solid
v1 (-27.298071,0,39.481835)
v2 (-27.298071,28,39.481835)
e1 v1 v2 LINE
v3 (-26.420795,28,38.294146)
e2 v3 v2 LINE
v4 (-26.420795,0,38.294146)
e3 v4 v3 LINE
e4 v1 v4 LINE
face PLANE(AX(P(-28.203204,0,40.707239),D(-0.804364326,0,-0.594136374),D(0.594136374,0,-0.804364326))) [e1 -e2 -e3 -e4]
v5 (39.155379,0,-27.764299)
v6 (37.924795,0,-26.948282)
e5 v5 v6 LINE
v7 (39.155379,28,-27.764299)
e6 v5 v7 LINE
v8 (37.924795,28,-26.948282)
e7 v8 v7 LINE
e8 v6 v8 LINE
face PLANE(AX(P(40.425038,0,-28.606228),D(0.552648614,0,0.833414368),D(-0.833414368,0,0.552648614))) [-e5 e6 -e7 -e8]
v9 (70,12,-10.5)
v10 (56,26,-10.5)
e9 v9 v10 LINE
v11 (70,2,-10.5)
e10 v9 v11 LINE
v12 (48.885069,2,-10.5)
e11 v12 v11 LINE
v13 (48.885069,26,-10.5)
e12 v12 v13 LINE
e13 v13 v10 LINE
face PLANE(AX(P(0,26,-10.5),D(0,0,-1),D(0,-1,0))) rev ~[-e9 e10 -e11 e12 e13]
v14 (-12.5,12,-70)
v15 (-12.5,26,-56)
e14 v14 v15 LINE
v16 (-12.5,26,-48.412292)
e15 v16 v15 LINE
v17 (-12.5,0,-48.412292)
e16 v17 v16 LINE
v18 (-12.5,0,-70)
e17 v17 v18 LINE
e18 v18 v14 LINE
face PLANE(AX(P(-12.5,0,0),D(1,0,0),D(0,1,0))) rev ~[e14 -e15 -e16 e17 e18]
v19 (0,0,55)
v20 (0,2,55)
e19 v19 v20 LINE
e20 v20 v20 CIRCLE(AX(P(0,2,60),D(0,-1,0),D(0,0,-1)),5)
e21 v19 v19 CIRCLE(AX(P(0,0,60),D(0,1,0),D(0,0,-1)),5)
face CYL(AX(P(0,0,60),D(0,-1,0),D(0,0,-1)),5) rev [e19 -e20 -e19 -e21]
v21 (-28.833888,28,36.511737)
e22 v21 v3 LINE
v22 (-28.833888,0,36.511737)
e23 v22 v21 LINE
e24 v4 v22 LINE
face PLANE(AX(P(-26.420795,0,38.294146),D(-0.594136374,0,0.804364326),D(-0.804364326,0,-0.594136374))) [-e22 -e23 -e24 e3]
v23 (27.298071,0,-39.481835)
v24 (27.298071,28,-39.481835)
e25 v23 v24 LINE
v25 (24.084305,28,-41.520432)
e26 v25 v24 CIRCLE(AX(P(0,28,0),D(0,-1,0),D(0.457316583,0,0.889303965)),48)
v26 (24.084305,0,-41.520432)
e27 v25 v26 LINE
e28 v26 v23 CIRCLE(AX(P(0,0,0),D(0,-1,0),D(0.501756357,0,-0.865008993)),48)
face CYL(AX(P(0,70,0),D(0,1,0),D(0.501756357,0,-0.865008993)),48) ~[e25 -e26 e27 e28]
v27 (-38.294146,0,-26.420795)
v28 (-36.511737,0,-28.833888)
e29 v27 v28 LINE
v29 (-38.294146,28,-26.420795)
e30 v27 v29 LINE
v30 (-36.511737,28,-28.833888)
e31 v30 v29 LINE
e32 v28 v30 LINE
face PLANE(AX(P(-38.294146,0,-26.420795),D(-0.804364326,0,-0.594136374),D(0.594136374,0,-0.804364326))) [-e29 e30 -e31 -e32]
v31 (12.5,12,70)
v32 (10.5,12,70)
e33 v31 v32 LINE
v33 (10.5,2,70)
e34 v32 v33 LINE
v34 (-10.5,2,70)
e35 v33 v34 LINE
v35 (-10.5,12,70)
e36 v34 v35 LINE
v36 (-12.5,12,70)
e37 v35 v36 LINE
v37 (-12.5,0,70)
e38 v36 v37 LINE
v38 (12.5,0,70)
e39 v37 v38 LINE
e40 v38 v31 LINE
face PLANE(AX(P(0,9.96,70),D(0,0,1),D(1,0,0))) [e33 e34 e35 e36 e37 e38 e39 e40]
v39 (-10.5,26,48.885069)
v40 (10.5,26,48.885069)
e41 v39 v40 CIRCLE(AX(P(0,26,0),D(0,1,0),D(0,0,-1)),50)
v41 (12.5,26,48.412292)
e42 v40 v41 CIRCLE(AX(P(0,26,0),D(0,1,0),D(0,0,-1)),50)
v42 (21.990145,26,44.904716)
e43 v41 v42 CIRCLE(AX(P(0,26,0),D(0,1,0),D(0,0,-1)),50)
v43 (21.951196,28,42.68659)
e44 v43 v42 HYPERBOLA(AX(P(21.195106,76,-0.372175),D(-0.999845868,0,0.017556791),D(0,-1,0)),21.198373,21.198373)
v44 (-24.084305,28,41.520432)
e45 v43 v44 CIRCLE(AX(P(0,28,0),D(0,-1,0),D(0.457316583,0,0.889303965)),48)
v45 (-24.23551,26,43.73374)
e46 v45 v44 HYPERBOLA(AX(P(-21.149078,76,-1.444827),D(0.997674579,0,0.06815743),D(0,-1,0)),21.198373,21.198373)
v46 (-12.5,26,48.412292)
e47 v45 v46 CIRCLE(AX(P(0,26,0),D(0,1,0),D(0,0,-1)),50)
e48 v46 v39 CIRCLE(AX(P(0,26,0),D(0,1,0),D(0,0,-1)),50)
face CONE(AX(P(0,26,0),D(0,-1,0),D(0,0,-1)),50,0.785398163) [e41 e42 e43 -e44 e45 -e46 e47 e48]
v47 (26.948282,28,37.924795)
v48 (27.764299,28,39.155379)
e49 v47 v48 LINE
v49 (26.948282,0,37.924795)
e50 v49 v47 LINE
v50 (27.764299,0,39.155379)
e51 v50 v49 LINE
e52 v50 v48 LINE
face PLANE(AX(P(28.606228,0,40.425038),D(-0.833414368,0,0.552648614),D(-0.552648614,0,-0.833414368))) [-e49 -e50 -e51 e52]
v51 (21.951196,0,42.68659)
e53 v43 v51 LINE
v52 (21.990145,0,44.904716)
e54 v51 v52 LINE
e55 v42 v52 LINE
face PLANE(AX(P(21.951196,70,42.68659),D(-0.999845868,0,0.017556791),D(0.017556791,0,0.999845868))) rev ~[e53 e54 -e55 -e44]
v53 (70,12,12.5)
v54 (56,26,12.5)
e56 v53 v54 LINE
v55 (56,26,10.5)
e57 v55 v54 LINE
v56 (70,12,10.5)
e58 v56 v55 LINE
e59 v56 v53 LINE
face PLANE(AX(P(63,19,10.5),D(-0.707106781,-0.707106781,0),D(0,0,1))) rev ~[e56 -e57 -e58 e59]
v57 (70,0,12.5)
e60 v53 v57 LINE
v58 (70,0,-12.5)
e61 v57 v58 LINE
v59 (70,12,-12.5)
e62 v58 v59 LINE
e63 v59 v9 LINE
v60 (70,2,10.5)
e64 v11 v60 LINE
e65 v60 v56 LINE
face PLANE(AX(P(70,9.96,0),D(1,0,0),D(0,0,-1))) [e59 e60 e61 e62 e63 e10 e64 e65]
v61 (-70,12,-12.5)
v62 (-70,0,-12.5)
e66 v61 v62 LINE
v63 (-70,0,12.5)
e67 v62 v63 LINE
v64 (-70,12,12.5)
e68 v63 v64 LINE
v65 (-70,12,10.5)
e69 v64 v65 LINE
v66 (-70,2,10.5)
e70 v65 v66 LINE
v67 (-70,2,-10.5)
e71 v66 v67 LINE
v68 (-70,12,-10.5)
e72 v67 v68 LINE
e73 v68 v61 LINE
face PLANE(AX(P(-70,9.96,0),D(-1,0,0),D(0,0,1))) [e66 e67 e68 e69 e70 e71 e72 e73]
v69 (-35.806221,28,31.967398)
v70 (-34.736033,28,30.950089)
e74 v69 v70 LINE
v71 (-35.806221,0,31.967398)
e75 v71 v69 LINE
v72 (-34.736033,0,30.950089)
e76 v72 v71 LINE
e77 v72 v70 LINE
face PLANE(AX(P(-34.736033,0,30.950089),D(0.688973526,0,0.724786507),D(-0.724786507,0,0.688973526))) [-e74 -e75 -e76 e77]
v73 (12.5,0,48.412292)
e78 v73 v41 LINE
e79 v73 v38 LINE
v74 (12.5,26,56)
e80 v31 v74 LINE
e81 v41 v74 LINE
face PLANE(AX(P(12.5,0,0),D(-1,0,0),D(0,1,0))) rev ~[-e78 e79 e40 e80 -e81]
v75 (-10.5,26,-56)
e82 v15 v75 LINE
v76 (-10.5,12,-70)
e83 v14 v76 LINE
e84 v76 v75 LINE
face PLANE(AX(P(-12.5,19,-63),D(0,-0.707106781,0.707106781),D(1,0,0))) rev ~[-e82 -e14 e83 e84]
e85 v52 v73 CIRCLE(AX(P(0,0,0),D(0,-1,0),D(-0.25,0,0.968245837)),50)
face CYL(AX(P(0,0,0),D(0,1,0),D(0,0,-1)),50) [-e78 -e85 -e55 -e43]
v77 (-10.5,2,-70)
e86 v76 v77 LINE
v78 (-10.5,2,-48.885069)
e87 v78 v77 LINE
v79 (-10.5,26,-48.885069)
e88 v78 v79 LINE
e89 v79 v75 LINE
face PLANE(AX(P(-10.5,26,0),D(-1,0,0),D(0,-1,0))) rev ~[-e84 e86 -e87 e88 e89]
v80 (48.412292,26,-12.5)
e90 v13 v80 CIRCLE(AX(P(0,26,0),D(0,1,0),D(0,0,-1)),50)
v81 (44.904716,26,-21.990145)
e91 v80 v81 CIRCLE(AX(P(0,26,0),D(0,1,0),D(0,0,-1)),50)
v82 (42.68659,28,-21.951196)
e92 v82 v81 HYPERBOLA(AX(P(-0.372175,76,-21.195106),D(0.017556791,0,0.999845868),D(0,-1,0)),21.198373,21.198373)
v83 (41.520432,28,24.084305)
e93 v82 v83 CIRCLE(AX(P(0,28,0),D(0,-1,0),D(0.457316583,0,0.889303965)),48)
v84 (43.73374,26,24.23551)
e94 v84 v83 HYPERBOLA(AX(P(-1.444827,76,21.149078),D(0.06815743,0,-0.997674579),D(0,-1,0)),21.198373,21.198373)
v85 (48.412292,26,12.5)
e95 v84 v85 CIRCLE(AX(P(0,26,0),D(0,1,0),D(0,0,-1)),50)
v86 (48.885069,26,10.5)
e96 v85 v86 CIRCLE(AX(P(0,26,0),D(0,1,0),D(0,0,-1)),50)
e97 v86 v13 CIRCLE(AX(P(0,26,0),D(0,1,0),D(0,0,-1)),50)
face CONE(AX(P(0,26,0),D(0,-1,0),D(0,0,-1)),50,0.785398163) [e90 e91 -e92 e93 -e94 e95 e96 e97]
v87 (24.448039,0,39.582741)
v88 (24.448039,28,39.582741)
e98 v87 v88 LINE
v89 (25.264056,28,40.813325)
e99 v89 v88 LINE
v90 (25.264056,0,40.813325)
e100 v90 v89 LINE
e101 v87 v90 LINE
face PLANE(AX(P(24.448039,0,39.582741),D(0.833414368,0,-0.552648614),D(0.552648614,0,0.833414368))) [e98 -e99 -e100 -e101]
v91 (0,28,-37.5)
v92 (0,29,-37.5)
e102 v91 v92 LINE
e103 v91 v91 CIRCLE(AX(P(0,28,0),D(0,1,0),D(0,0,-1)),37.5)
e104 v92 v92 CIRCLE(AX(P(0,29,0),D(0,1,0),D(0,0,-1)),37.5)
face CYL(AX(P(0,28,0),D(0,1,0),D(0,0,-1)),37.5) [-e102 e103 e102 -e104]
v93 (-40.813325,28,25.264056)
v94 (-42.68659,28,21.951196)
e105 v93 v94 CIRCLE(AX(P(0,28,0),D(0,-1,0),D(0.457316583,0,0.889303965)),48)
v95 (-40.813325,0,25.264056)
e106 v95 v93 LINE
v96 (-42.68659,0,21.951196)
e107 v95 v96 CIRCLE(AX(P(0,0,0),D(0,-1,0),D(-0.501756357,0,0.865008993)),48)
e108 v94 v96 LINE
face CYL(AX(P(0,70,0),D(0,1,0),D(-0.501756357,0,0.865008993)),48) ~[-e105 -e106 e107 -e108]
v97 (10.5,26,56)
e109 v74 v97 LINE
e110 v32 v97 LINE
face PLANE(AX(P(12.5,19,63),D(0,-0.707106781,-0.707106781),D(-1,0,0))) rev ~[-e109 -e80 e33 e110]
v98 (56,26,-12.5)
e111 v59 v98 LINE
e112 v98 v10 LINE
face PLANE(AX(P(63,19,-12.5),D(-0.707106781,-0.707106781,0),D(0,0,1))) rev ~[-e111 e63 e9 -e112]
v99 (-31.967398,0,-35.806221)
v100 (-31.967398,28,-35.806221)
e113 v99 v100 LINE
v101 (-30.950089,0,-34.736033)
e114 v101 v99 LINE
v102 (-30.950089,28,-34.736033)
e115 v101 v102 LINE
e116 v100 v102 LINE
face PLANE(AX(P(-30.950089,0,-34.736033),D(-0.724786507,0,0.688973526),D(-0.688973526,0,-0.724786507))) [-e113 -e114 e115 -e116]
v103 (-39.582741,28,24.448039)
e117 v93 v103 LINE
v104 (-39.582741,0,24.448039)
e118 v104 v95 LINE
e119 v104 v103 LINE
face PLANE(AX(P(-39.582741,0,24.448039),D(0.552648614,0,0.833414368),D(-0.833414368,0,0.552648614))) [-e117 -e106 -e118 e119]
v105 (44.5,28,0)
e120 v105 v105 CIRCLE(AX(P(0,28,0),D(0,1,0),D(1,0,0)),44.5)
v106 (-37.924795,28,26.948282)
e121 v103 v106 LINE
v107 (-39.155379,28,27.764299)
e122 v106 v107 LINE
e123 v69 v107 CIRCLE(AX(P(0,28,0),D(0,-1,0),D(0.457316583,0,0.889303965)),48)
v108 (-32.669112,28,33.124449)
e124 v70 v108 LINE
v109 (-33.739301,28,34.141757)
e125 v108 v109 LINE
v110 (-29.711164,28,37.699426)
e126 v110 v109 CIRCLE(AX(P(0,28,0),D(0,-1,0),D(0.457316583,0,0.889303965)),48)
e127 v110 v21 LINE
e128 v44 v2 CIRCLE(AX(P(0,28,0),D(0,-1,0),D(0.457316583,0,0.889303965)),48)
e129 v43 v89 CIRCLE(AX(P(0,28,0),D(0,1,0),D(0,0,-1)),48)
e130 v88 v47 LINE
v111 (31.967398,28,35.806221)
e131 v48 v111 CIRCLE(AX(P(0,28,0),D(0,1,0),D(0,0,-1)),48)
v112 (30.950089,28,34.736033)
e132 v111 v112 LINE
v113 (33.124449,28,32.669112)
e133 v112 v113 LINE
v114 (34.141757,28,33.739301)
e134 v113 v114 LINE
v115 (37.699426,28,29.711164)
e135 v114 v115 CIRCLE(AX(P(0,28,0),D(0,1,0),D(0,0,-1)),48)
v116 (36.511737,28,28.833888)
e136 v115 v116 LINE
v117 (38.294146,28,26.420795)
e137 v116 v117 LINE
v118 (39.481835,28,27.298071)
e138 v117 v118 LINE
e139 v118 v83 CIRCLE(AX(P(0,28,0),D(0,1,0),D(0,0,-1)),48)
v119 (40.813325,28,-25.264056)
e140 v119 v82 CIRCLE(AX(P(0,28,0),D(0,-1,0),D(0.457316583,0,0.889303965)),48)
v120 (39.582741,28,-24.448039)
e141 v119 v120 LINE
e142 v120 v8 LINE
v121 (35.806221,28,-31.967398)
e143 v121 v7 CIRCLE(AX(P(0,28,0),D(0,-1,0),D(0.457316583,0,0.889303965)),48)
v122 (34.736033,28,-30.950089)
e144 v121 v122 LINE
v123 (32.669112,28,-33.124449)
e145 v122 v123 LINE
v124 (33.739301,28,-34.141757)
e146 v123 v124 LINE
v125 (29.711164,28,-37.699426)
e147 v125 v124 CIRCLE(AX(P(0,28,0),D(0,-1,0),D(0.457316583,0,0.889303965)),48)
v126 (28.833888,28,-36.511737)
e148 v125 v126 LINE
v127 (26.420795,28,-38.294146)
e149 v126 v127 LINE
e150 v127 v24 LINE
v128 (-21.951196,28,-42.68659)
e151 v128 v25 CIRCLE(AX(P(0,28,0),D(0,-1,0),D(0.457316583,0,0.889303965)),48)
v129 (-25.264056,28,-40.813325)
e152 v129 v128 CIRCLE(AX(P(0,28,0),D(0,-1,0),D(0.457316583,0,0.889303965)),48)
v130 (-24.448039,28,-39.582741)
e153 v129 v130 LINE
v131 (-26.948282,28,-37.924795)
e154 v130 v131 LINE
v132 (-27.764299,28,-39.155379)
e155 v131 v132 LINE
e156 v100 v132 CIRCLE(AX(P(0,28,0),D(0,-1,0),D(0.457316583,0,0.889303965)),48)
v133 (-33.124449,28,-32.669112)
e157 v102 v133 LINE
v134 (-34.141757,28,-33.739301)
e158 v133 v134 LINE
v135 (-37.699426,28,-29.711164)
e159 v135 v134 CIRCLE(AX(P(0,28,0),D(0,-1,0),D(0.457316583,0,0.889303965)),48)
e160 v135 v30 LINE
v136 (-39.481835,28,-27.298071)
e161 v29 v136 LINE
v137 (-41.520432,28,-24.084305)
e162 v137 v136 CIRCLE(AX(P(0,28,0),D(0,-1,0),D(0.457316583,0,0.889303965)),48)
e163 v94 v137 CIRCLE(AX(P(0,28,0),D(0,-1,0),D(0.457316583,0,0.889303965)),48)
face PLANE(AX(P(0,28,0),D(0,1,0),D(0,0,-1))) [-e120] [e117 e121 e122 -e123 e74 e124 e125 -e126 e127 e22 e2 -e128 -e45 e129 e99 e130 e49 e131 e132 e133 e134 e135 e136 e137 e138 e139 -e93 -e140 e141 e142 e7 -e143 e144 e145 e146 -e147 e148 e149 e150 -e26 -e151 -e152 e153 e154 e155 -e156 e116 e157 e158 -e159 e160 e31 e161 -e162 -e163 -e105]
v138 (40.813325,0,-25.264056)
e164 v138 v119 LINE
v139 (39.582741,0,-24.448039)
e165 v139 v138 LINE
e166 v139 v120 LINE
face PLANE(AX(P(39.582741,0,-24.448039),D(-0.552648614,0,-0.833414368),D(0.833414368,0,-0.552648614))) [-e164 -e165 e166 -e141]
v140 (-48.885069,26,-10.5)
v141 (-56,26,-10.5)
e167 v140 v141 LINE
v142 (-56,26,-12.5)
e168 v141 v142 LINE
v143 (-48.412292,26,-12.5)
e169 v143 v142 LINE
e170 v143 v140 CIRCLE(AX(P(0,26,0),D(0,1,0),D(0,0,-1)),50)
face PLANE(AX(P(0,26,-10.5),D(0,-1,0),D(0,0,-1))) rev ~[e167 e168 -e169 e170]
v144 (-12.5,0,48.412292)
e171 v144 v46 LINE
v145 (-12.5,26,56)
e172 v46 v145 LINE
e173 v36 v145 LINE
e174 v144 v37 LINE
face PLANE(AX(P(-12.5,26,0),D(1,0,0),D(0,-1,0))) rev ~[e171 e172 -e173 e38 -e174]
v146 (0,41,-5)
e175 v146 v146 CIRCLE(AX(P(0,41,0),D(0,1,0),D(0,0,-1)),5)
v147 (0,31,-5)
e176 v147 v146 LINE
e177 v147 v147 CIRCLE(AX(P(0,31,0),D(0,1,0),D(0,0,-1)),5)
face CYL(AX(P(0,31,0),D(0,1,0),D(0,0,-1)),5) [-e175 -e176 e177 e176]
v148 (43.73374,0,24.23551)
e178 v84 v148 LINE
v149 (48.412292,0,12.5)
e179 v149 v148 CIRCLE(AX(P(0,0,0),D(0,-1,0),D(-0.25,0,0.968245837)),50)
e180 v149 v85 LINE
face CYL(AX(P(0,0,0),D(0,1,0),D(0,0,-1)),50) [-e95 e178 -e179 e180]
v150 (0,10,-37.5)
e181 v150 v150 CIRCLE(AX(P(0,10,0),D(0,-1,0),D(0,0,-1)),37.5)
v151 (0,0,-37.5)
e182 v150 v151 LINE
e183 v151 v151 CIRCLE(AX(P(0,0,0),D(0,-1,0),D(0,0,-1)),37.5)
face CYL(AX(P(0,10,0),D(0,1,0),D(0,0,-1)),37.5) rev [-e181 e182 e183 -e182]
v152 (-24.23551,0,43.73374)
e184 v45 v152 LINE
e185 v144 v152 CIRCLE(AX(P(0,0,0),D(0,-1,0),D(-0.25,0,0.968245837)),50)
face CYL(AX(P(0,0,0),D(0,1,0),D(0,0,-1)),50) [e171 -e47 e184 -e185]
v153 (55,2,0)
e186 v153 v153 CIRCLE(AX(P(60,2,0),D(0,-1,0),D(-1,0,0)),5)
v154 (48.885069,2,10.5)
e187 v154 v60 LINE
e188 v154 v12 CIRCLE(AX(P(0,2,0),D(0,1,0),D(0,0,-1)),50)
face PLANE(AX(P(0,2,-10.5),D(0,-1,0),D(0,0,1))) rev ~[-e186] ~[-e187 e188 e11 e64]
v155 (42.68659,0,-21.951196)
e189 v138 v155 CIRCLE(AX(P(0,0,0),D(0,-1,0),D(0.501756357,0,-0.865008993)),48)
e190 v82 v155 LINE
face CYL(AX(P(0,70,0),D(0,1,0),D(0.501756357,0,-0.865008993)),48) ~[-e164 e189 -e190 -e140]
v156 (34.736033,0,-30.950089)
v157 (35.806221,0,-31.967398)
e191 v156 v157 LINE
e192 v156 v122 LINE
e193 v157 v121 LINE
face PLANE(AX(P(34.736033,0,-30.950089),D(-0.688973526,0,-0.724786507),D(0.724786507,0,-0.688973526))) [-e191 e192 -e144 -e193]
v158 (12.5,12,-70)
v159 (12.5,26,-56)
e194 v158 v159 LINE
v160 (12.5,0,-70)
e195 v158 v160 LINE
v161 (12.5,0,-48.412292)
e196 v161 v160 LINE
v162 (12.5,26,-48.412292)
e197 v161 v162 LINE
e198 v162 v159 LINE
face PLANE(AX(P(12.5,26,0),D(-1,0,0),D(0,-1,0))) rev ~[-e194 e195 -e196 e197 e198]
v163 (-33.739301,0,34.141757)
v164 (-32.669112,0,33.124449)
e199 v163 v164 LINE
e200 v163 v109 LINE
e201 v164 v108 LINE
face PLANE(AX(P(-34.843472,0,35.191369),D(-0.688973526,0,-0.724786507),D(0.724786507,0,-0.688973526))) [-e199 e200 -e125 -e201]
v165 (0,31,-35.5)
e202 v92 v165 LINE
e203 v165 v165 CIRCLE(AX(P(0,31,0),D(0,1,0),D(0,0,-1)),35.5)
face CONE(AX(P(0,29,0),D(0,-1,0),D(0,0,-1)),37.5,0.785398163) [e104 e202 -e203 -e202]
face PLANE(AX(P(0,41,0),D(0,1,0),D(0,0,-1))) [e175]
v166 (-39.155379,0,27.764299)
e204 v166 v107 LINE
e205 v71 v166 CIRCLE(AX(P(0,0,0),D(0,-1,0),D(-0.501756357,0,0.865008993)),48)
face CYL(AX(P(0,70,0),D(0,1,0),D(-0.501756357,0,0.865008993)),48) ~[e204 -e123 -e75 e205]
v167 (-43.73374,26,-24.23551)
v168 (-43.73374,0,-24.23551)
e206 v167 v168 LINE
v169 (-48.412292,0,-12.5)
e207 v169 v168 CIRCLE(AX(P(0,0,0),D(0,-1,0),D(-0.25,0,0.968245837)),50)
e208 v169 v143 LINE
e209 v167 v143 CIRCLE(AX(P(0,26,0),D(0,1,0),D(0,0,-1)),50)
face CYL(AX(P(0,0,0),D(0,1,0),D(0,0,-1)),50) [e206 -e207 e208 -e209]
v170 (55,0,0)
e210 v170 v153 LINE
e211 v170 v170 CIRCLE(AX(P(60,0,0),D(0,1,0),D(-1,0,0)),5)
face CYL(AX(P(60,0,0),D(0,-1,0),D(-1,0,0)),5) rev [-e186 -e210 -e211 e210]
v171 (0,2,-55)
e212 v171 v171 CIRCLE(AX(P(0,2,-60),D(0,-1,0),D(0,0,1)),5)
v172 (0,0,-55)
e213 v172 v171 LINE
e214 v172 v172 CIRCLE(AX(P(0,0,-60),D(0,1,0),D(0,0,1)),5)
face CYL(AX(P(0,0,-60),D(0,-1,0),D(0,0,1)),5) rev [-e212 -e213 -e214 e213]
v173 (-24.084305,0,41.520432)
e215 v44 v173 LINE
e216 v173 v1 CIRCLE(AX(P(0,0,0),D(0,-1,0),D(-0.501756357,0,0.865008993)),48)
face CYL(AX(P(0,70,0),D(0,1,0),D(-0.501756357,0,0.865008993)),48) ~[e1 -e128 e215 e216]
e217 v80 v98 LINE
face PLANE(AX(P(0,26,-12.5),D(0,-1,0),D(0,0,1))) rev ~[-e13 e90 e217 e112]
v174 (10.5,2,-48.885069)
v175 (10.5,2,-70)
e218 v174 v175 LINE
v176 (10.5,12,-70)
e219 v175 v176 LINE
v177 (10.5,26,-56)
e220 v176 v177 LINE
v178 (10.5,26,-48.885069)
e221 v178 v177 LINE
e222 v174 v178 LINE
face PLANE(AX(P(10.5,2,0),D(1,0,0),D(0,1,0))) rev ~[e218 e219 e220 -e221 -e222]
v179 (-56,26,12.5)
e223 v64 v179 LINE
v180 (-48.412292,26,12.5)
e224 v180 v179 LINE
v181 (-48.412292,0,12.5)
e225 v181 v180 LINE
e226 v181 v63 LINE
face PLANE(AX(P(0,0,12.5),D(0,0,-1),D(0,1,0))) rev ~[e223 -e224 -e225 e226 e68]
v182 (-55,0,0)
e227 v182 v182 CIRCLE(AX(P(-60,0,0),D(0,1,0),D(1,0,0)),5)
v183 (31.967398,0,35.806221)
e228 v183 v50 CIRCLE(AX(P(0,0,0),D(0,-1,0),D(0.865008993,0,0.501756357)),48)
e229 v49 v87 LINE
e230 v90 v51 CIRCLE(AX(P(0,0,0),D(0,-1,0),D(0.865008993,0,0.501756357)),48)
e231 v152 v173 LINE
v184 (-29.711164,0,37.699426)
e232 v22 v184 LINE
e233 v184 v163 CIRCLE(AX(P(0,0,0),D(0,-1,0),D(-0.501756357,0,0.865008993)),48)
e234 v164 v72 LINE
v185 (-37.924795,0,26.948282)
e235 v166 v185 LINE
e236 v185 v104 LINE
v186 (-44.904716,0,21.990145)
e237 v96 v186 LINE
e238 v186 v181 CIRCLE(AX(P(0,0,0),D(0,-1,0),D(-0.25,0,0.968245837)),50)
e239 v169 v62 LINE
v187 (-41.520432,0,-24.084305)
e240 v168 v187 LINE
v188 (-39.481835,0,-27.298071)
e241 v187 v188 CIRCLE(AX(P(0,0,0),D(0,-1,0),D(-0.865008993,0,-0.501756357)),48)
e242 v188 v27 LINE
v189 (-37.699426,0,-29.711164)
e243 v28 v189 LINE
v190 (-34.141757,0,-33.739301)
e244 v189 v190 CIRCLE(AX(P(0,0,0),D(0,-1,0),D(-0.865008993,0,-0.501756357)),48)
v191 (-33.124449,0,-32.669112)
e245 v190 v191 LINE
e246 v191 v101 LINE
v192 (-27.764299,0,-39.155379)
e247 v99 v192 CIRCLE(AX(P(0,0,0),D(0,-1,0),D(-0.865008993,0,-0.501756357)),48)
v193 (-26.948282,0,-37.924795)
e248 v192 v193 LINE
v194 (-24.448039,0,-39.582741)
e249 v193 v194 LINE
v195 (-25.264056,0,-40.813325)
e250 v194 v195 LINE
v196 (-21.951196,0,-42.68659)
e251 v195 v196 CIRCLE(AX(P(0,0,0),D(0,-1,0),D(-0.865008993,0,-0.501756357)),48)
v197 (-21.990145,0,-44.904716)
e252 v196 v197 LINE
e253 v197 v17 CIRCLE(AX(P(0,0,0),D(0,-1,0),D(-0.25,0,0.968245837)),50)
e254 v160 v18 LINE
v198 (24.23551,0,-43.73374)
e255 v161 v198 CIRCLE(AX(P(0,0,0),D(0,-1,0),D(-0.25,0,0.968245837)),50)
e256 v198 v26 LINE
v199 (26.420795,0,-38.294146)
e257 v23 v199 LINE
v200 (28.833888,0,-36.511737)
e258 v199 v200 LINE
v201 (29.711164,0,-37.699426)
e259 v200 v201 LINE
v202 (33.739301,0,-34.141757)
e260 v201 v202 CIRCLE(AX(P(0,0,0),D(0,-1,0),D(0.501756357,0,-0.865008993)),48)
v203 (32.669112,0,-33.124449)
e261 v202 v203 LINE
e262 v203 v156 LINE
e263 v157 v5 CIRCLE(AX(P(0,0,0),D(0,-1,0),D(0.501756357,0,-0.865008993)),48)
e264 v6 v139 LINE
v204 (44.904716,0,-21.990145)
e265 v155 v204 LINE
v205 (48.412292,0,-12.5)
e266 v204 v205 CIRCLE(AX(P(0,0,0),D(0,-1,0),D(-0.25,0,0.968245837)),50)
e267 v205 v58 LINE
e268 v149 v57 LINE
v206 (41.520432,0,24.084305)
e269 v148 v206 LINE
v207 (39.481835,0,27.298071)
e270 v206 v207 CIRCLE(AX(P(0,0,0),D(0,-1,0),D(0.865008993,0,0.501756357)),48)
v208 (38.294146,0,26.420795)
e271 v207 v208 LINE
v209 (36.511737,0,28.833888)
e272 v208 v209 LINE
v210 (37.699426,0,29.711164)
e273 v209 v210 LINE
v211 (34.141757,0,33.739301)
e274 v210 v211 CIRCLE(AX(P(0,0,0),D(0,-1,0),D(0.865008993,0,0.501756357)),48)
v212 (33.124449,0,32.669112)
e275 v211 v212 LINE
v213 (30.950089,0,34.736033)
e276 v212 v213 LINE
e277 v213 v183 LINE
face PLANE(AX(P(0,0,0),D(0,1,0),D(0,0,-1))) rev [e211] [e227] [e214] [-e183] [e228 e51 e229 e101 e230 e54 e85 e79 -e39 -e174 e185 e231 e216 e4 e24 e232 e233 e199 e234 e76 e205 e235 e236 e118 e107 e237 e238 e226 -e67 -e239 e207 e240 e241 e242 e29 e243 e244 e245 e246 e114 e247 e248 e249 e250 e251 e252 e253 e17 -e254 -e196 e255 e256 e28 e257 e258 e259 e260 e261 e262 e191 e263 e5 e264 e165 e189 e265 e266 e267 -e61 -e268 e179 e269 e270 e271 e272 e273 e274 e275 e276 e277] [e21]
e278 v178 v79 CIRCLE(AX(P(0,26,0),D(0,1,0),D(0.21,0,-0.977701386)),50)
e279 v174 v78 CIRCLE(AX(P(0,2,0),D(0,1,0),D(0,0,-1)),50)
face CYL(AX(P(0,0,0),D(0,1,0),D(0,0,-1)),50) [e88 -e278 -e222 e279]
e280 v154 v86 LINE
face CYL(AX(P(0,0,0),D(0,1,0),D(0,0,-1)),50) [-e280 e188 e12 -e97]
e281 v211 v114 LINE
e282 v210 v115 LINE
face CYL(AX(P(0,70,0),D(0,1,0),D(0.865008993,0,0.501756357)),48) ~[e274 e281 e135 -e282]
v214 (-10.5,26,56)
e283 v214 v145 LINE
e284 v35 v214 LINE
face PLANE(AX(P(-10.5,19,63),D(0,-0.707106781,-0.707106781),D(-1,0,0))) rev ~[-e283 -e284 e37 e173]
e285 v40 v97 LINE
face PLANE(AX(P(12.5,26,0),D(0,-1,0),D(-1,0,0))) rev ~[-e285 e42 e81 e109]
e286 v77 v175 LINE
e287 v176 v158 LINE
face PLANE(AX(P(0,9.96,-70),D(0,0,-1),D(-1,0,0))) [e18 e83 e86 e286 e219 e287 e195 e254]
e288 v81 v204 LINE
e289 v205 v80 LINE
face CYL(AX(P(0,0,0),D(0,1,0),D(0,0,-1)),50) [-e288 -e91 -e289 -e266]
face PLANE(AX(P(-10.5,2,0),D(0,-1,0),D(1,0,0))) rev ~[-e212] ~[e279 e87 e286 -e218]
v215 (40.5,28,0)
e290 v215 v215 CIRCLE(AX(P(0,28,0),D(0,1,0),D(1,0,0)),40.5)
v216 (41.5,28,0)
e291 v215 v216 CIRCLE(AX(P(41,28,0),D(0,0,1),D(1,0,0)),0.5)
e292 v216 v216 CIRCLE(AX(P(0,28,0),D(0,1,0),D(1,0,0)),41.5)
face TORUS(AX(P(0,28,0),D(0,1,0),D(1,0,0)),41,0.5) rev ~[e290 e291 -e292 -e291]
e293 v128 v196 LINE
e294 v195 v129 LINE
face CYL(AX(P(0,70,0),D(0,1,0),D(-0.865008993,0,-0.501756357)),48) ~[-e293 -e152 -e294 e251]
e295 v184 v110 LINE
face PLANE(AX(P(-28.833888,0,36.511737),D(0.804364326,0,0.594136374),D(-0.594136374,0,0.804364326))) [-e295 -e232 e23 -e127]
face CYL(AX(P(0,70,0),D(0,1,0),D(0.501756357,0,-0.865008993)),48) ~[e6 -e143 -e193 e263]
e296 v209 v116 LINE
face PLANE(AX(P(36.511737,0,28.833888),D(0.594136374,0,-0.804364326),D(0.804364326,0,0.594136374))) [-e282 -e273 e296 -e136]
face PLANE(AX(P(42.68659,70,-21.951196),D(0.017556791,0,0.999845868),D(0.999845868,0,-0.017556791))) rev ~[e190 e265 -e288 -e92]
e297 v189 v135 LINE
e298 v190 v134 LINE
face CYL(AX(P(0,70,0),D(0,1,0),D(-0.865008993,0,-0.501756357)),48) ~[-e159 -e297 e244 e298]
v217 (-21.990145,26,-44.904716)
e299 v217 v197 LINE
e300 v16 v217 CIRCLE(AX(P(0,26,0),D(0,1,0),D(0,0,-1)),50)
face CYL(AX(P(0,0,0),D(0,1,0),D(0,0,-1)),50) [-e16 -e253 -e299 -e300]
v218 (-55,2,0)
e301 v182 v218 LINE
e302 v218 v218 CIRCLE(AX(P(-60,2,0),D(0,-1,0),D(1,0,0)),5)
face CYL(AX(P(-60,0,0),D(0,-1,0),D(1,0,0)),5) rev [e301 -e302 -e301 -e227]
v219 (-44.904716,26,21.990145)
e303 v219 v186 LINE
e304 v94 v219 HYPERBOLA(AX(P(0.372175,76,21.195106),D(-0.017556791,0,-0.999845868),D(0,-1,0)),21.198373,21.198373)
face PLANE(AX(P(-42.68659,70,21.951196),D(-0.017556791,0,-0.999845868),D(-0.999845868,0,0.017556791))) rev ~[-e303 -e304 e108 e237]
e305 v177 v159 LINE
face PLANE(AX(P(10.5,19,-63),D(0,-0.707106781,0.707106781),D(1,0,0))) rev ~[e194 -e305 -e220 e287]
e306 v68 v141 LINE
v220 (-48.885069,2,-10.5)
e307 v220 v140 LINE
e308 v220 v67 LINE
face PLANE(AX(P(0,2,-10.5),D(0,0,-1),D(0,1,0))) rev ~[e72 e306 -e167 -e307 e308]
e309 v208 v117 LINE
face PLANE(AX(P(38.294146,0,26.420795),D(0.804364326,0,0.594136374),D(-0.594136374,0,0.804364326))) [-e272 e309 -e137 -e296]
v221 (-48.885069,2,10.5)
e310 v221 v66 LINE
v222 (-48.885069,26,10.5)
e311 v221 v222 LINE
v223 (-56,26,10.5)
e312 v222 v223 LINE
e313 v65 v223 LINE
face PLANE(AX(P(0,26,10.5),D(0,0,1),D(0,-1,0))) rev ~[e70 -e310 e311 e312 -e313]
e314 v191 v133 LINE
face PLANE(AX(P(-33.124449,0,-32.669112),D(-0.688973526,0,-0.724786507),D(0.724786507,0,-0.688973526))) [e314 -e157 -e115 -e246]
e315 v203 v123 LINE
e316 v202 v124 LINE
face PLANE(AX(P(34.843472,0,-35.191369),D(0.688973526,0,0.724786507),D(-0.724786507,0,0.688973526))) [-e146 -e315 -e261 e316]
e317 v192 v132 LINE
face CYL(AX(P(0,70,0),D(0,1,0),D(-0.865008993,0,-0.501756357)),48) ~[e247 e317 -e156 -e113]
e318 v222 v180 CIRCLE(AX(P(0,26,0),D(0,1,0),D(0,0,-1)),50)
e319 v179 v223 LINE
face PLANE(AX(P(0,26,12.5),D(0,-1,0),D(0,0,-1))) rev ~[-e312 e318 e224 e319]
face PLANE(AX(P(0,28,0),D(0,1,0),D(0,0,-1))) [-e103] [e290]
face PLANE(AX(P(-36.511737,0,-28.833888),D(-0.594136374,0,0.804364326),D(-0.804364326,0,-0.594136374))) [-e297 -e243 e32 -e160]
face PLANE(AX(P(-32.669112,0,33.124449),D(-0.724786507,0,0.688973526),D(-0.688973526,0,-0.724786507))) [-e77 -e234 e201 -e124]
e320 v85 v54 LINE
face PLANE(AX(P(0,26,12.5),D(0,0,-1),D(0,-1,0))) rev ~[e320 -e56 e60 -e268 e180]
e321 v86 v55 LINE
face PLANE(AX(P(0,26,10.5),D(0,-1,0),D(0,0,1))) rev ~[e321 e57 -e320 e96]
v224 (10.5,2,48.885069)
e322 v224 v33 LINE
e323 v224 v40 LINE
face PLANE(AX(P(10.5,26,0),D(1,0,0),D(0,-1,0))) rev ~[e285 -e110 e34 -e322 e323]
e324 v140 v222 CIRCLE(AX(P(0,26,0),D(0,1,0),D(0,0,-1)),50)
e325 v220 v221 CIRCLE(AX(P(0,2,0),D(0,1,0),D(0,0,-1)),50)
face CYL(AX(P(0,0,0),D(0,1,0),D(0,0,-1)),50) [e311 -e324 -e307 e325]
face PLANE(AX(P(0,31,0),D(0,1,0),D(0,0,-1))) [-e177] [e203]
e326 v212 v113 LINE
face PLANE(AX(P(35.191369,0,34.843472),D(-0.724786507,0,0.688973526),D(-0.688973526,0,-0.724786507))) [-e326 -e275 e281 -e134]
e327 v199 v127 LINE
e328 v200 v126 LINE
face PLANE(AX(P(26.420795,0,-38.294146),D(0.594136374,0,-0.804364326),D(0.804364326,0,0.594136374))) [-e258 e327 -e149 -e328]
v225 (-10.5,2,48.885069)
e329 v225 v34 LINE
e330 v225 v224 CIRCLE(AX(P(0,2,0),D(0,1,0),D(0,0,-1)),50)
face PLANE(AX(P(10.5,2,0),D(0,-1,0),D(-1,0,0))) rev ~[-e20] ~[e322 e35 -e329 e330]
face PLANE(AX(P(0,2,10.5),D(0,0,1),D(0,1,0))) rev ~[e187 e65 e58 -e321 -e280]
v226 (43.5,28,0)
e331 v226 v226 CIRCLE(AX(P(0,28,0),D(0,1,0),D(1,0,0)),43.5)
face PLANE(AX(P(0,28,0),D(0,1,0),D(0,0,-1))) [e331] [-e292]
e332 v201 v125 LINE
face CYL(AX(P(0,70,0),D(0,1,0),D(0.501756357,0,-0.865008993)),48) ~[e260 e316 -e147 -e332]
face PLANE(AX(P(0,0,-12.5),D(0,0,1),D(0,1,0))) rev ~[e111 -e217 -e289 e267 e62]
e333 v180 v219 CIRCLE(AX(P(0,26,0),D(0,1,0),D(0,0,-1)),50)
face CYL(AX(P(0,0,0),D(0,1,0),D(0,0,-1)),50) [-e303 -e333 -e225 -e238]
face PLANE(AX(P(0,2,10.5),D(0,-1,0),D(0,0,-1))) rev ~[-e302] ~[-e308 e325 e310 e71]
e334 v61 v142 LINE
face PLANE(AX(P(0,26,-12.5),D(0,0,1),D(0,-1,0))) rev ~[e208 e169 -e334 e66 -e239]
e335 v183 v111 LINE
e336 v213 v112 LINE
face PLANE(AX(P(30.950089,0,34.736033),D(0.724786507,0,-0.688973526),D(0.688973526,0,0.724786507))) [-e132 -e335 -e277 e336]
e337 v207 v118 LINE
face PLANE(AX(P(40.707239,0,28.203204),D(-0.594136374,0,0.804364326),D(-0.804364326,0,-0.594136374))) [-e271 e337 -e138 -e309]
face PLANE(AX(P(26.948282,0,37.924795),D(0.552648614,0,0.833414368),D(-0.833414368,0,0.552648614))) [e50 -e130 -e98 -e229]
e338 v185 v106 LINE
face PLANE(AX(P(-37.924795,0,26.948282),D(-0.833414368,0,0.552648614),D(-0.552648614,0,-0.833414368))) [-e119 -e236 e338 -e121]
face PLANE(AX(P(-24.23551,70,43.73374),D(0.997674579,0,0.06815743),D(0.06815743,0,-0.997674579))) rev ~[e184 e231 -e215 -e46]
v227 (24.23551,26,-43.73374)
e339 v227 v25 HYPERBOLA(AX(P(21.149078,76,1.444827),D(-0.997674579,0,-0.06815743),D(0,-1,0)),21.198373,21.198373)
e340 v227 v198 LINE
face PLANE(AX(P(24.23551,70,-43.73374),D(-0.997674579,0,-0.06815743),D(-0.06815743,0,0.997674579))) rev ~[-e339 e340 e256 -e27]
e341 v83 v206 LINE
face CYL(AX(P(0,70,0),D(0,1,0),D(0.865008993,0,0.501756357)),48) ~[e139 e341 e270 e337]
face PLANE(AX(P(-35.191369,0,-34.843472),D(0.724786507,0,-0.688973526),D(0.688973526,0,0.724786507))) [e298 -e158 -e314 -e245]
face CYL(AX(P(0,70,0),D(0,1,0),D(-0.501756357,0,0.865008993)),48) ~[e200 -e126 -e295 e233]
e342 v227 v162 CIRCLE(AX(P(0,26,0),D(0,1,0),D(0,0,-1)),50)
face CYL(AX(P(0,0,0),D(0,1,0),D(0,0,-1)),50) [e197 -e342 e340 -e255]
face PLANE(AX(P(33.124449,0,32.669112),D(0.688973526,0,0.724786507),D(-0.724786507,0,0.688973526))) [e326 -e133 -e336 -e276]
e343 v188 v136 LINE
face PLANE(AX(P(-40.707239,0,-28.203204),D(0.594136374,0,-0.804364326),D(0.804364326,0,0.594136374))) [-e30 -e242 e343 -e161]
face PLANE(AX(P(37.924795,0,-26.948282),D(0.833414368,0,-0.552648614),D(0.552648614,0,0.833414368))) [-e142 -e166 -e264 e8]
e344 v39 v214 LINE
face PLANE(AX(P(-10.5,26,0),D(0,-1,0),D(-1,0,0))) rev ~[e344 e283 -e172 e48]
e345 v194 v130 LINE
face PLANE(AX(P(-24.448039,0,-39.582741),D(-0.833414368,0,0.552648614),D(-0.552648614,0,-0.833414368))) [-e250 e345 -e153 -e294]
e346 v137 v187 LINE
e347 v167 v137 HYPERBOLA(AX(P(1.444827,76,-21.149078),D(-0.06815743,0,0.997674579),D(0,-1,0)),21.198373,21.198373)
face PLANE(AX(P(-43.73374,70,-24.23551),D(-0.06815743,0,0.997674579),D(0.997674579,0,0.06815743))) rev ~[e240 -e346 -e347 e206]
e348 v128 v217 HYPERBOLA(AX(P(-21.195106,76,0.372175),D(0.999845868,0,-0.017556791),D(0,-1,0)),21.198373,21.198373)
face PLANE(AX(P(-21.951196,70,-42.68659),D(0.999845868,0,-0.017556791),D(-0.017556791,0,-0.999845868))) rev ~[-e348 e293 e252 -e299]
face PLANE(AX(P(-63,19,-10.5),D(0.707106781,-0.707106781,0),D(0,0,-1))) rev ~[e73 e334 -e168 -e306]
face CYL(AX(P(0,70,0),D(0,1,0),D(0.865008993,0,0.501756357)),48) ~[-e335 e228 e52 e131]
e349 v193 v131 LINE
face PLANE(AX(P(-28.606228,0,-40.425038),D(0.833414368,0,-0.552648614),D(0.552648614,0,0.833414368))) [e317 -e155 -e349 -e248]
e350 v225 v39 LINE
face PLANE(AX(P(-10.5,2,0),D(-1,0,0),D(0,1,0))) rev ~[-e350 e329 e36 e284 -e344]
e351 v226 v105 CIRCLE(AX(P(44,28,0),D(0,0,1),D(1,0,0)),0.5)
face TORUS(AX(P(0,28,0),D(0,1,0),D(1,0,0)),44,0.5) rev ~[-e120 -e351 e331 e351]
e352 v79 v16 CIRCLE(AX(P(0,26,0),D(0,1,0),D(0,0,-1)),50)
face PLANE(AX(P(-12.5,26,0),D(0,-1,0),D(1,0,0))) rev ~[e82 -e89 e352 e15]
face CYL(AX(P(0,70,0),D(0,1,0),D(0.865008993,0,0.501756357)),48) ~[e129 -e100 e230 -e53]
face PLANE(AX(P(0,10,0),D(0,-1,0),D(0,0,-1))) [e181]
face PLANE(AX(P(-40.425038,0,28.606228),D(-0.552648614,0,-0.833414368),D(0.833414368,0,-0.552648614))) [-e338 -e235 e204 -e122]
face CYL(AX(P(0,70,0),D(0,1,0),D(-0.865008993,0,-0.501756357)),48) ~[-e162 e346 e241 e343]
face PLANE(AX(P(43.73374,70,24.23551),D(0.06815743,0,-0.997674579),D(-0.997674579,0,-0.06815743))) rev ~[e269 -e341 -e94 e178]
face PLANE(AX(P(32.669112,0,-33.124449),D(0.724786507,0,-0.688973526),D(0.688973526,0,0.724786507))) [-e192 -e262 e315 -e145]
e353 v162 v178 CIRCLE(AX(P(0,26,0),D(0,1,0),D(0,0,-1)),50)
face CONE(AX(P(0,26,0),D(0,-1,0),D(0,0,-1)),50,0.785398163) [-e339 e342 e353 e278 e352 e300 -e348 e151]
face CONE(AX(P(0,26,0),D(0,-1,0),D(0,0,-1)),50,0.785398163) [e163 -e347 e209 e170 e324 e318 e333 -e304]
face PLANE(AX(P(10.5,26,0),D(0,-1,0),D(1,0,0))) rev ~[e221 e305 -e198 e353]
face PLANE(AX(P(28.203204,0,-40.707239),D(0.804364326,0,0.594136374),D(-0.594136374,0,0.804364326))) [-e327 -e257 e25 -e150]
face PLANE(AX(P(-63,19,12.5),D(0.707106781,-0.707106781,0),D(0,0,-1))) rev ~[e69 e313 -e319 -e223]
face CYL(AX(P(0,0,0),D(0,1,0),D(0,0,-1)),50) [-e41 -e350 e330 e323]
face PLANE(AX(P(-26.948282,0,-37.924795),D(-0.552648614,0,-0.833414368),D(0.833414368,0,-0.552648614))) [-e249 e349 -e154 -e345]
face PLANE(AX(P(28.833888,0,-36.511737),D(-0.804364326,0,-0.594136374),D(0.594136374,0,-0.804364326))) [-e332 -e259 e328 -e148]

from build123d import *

# Parameters (mm, degrees)
CHAMFER1_SIZE                   = 2
BOSS_EXTRUDE1_DEPTH             = 70
CHAMFER2_SIZE                   = 14
SKETCH3_R                       = 5
CUT_EXTRUDE1_DEPTH              = 70
CIRPATTERN1_COUNT               = 4
CHAMFER2_OF_CIRPATTERN1_SIZE    = 14
CUT_EXTRUDE2_START              = 70
CUT_EXTRUDE2_DEPTH              = 70
CUT_EXTRUDE3_DEPTH              = 70
CIRPATTERN2_COUNT               = 2
CIRPATTERN2_ANGLE               = 10
CIRPATTERN2_THE_OTHER_WAY_COUNT = 2
CIRPATTERN2_THE_OTHER_WAY_ANGLE = 10
CIRPATTERN3_COUNT               = 4
CIRPATTERN3_COPY_1_DEPTH        = 70
CIRPATTERN3_COPY_2_DEPTH        = 70
CIRPATTERN3_COPY_3_DEPTH        = 70
CIRPATTERN3_COPY_4_DEPTH        = 70
CIRPATTERN3_COPY_5_DEPTH        = 70
CIRPATTERN3_COPY_6_DEPTH        = 70
CUT_SWEEP1_PROFILE_R            = 0.5
CUT_SWEEP2_PROFILE_R            = 0.5
CUT_EXTRUDE4_START              = -10
SKETCH16_R                      = 37.5
CUT_EXTRUDE4_DEPTH              = 10


with BuildPart() as part:
    # Sketch1 → Revolve1 (revolve)
    with BuildSketch(Plane.XY, mode=Mode.PRIVATE) as revolve1_sk:
        Polygon((0, 0), (-50, 0), (-50, 28), (-37.5, 28), (-37.5, 31), (-5, 31), (-5, 41), (0, 41), align=None)
    revolve(revolve1_sk.sketch.rotate(Axis((0, 0, 0), (0, 1, 0)), 270), axis=Axis((0, 0, 0), (0, 1, 0)))

    # Chamfer1
    chamfer1_edges = [part.edges().sort_by_distance(p)[0] for p in [
        (0, 31, 37.5),
        (0, 28, 50),
    ]]
    chamfer(chamfer1_edges, length=CHAMFER1_SIZE)

    # Sketch2 → Boss-Extrude1 (add)
    with BuildSketch(Plane.XY):
        Polygon((-12.5, 26), (-12.5, 0), (12.5, 0), (12.5, 26), (10.5, 26), (10.5, 2), (-10.5, 2), (-10.5, 26), align=None)
    boss_extrude1 = extrude(amount=BOSS_EXTRUDE1_DEPTH)

    # Chamfer2
    chamfer2_edges = [part.edges().sort_by_distance(p)[0] for p in [
        (-11.5, 26, 70),
        (11.5, 26, 70),
    ]]
    chamfer(chamfer2_edges, length=CHAMFER2_SIZE)

    # Sketch3 → Cut-Extrude1 (cut)
    with BuildSketch(Plane(origin=(0, 0, 0), x_dir=(1, 0, 0), z_dir=(0, 1, 0))):
        with Locations(Location((0, -60, 0), (0, 0, 90))):
            Circle(SKETCH3_R)
    cut_extrude1 = extrude(amount=CUT_EXTRUDE1_DEPTH, mode=Mode.SUBTRACT)

    # CirPattern1: Boss-Extrude1, Cut-Extrude1 ×4 about axis
    cirpattern1_axis = Axis((0, 0, 0), (0, 1, 0))
    add([boss_extrude1.rotate(cirpattern1_axis, i * 360 / CIRPATTERN1_COUNT) for i in range(1, CIRPATTERN1_COUNT)])
    add([cut_extrude1.rotate(cirpattern1_axis, i * 360 / CIRPATTERN1_COUNT) for i in range(1, CIRPATTERN1_COUNT)], mode=Mode.SUBTRACT)

    # Chamfer2 of CirPattern1
    chamfer2_of_cirpattern1_edges = [part.edges().sort_by_distance(p)[0] for p in [
        (70, 26, 11.5),
        (70, 26, -11.5),
        (11.5, 26, -70),
        (-11.5, 26, -70),
        (-70, 26, -11.5),
        (-70, 26, 11.5),
    ]]
    chamfer(chamfer2_of_cirpattern1_edges, length=CHAMFER2_OF_CIRPATTERN1_SIZE)

    # Sketch4 → Cut-Extrude2 (cut)
    with BuildSketch(Plane(origin=(0, 0, 0), x_dir=(1, 0, 0), z_dir=(0, 1, 0)).offset(CUT_EXTRUDE2_START)):
        with BuildLine():
            Line((21.951196001, -42.686590332), (21.990145173, -44.904715958))
            ThreePointArc((21.990145173, -44.904715958), (34.448676313, -36.239325329), (43.73374037, -24.23551017))
            Line((43.73374037, -24.23551017), (41.520431678, -24.084305123))
            ThreePointArc((41.520431678, -24.084305123), (33.07072926, -34.789752316), (21.951196001, -42.686590332))
        make_face()
    cut_extrude2 = extrude(amount=-CUT_EXTRUDE2_DEPTH, mode=Mode.SUBTRACT)

    # Sketch5 → Cut-Extrude3 (cut)
    with BuildSketch(Plane(origin=(0, 0, 0), x_dir=(1, 0, 0), z_dir=(0, 1, 0))):
        Polygon((33.01700979, -36.910392365), (35.191369309, -34.843471786), (33.124448731, -32.669112267), (30.950089211, -34.736032845), align=None)
    cut_extrude3 = extrude(amount=CUT_EXTRUDE3_DEPTH, mode=Mode.SUBTRACT)

    # CirPattern2: Cut-Extrude3 ×2 about axis
    cirpattern2_axis = Axis((0, 0, 0), (0, 1, 0))
    for i in range(1, CIRPATTERN2_COUNT):
        add(cut_extrude3.rotate(cirpattern2_axis, i * CIRPATTERN2_ANGLE / (CIRPATTERN2_COUNT - 1)), mode=Mode.SUBTRACT)

    # CirPattern2 the other way: Cut-Extrude3 ×2 about axis
    cirpattern2_the_other_way_axis = Axis((0, 0, 0), (0, -1, 0))
    for i in range(1, CIRPATTERN2_THE_OTHER_WAY_COUNT):
        add(cut_extrude3.rotate(cirpattern2_the_other_way_axis, i * CIRPATTERN2_THE_OTHER_WAY_ANGLE / (CIRPATTERN2_THE_OTHER_WAY_COUNT - 1)), mode=Mode.SUBTRACT)

    # CirPattern3: Cut-Extrude2, Cut-Extrude3 ×4 about axis
    cirpattern3_axis = Axis((0, 0, 0), (0, 1, 0))
    add([cut_extrude2.rotate(cirpattern3_axis, i * 360 / CIRPATTERN3_COUNT) for i in range(1, CIRPATTERN3_COUNT)], mode=Mode.SUBTRACT)
    add([cut_extrude3.rotate(cirpattern3_axis, i * 360 / CIRPATTERN3_COUNT) for i in range(1, CIRPATTERN3_COUNT)], mode=Mode.SUBTRACT)

    # CirPattern3 copy 1 sketch → CirPattern3 copy 1 (cut)
    with BuildSketch(Plane(origin=(0, 0, 0), x_dir=(-0.17364817766693091, 0, -0.9848077530122079), z_dir=(0, 1, 0))):
        Polygon((33.01700979, -36.910392365), (35.191369309, -34.843471786), (33.124448731, -32.669112267), (30.950089211, -34.736032845), align=None)
    extrude(amount=CIRPATTERN3_COPY_1_DEPTH, mode=Mode.SUBTRACT)

    # CirPattern3 copy 2 sketch → CirPattern3 copy 2 (cut)
    with BuildSketch(Plane(origin=(0, 0, 0), x_dir=(-0.9848077530122079, 0, 0.17364817766693086), z_dir=(0, 1, 0))):
        Polygon((33.01700979, -36.910392365), (35.191369309, -34.843471786), (33.124448731, -32.669112267), (30.950089211, -34.736032845), align=None)
    extrude(amount=CIRPATTERN3_COPY_2_DEPTH, mode=Mode.SUBTRACT)

    # CirPattern3 copy 3 sketch → CirPattern3 copy 3 (cut)
    with BuildSketch(Plane(origin=(0, 0, 0), x_dir=(0.17364817766693078, 0, 0.9848077530122079), z_dir=(0, 1, 0))):
        Polygon((33.01700979, -36.910392365), (35.191369309, -34.843471786), (33.124448731, -32.669112267), (30.950089211, -34.736032845), align=None)
    extrude(amount=CIRPATTERN3_COPY_3_DEPTH, mode=Mode.SUBTRACT)

    # CirPattern3 copy 4 sketch → CirPattern3 copy 4 (cut)
    with BuildSketch(Plane(origin=(0, 0, 0), x_dir=(0.17364817766693103, 0, -0.9848077530122079), z_dir=(0, 1, 0))):
        Polygon((33.01700979, -36.910392365), (35.191369309, -34.843471786), (33.124448731, -32.669112267), (30.950089211, -34.736032845), align=None)
    extrude(amount=CIRPATTERN3_COPY_4_DEPTH, mode=Mode.SUBTRACT)

    # CirPattern3 copy 5 sketch → CirPattern3 copy 5 (cut)
    with BuildSketch(Plane(origin=(0, 0, 0), x_dir=(-0.9848077530122079, 0, -0.17364817766693108), z_dir=(0, 1, 0))):
        Polygon((33.01700979, -36.910392365), (35.191369309, -34.843471786), (33.124448731, -32.669112267), (30.950089211, -34.736032845), align=None)
    extrude(amount=CIRPATTERN3_COPY_5_DEPTH, mode=Mode.SUBTRACT)

    # CirPattern3 copy 6 sketch → CirPattern3 copy 6 (cut)
    with BuildSketch(Plane(origin=(0, 0, 0), x_dir=(-0.17364817766693116, 0, 0.9848077530122079), z_dir=(0, 1, 0))):
        Polygon((33.01700979, -36.910392365), (35.191369309, -34.843471786), (33.124448731, -32.669112267), (30.950089211, -34.736032845), align=None)
    extrude(amount=CIRPATTERN3_COPY_6_DEPTH, mode=Mode.SUBTRACT)

    # Cut-Sweep1: sweep along a path in Sketch6
    with BuildLine(Plane(origin=(0, 28, 0), x_dir=(1, 0, 0), z_dir=(0, 1, 0))) as cut_sweep1_path:
        CenterArc((0, 0), 41, 0, 360)
    # Cut-Sweep1 profile (on start of the path) → Cut-Sweep1 (sweep, cut)
    with BuildSketch(Plane(origin=(41, 28, 0), x_dir=(-1, 0, 0), z_dir=(0, 0, -1))):
        Circle(CUT_SWEEP1_PROFILE_R)
    sweep(path=cut_sweep1_path.line, mode=Mode.SUBTRACT)

    # Cut-Sweep2: sweep along a path in Sketch7
    with BuildLine(Plane(origin=(0, 28, 0), x_dir=(1, 0, 0), z_dir=(0, 1, 0))) as cut_sweep2_path:
        CenterArc((0, 0), 44, 0, 360)
    # Cut-Sweep2 profile (on start of the path) → Cut-Sweep2 (sweep, cut)
    with BuildSketch(Plane(origin=(44, 28, 0), x_dir=(-1, 0, 0), z_dir=(0, 0, -1))):
        Circle(CUT_SWEEP2_PROFILE_R)
    sweep(path=cut_sweep2_path.line, mode=Mode.SUBTRACT)

    # Sketch16 → Cut-Extrude4 (cut)
    with BuildSketch(Plane.XZ.offset(CUT_EXTRUDE4_START)):
        with Locations(Location((0, 0, 0), (0, 0, 270))):
            Circle(SKETCH16_R)
    extrude(amount=CUT_EXTRUDE4_DEPTH, mode=Mode.SUBTRACT)


solid = part.part
